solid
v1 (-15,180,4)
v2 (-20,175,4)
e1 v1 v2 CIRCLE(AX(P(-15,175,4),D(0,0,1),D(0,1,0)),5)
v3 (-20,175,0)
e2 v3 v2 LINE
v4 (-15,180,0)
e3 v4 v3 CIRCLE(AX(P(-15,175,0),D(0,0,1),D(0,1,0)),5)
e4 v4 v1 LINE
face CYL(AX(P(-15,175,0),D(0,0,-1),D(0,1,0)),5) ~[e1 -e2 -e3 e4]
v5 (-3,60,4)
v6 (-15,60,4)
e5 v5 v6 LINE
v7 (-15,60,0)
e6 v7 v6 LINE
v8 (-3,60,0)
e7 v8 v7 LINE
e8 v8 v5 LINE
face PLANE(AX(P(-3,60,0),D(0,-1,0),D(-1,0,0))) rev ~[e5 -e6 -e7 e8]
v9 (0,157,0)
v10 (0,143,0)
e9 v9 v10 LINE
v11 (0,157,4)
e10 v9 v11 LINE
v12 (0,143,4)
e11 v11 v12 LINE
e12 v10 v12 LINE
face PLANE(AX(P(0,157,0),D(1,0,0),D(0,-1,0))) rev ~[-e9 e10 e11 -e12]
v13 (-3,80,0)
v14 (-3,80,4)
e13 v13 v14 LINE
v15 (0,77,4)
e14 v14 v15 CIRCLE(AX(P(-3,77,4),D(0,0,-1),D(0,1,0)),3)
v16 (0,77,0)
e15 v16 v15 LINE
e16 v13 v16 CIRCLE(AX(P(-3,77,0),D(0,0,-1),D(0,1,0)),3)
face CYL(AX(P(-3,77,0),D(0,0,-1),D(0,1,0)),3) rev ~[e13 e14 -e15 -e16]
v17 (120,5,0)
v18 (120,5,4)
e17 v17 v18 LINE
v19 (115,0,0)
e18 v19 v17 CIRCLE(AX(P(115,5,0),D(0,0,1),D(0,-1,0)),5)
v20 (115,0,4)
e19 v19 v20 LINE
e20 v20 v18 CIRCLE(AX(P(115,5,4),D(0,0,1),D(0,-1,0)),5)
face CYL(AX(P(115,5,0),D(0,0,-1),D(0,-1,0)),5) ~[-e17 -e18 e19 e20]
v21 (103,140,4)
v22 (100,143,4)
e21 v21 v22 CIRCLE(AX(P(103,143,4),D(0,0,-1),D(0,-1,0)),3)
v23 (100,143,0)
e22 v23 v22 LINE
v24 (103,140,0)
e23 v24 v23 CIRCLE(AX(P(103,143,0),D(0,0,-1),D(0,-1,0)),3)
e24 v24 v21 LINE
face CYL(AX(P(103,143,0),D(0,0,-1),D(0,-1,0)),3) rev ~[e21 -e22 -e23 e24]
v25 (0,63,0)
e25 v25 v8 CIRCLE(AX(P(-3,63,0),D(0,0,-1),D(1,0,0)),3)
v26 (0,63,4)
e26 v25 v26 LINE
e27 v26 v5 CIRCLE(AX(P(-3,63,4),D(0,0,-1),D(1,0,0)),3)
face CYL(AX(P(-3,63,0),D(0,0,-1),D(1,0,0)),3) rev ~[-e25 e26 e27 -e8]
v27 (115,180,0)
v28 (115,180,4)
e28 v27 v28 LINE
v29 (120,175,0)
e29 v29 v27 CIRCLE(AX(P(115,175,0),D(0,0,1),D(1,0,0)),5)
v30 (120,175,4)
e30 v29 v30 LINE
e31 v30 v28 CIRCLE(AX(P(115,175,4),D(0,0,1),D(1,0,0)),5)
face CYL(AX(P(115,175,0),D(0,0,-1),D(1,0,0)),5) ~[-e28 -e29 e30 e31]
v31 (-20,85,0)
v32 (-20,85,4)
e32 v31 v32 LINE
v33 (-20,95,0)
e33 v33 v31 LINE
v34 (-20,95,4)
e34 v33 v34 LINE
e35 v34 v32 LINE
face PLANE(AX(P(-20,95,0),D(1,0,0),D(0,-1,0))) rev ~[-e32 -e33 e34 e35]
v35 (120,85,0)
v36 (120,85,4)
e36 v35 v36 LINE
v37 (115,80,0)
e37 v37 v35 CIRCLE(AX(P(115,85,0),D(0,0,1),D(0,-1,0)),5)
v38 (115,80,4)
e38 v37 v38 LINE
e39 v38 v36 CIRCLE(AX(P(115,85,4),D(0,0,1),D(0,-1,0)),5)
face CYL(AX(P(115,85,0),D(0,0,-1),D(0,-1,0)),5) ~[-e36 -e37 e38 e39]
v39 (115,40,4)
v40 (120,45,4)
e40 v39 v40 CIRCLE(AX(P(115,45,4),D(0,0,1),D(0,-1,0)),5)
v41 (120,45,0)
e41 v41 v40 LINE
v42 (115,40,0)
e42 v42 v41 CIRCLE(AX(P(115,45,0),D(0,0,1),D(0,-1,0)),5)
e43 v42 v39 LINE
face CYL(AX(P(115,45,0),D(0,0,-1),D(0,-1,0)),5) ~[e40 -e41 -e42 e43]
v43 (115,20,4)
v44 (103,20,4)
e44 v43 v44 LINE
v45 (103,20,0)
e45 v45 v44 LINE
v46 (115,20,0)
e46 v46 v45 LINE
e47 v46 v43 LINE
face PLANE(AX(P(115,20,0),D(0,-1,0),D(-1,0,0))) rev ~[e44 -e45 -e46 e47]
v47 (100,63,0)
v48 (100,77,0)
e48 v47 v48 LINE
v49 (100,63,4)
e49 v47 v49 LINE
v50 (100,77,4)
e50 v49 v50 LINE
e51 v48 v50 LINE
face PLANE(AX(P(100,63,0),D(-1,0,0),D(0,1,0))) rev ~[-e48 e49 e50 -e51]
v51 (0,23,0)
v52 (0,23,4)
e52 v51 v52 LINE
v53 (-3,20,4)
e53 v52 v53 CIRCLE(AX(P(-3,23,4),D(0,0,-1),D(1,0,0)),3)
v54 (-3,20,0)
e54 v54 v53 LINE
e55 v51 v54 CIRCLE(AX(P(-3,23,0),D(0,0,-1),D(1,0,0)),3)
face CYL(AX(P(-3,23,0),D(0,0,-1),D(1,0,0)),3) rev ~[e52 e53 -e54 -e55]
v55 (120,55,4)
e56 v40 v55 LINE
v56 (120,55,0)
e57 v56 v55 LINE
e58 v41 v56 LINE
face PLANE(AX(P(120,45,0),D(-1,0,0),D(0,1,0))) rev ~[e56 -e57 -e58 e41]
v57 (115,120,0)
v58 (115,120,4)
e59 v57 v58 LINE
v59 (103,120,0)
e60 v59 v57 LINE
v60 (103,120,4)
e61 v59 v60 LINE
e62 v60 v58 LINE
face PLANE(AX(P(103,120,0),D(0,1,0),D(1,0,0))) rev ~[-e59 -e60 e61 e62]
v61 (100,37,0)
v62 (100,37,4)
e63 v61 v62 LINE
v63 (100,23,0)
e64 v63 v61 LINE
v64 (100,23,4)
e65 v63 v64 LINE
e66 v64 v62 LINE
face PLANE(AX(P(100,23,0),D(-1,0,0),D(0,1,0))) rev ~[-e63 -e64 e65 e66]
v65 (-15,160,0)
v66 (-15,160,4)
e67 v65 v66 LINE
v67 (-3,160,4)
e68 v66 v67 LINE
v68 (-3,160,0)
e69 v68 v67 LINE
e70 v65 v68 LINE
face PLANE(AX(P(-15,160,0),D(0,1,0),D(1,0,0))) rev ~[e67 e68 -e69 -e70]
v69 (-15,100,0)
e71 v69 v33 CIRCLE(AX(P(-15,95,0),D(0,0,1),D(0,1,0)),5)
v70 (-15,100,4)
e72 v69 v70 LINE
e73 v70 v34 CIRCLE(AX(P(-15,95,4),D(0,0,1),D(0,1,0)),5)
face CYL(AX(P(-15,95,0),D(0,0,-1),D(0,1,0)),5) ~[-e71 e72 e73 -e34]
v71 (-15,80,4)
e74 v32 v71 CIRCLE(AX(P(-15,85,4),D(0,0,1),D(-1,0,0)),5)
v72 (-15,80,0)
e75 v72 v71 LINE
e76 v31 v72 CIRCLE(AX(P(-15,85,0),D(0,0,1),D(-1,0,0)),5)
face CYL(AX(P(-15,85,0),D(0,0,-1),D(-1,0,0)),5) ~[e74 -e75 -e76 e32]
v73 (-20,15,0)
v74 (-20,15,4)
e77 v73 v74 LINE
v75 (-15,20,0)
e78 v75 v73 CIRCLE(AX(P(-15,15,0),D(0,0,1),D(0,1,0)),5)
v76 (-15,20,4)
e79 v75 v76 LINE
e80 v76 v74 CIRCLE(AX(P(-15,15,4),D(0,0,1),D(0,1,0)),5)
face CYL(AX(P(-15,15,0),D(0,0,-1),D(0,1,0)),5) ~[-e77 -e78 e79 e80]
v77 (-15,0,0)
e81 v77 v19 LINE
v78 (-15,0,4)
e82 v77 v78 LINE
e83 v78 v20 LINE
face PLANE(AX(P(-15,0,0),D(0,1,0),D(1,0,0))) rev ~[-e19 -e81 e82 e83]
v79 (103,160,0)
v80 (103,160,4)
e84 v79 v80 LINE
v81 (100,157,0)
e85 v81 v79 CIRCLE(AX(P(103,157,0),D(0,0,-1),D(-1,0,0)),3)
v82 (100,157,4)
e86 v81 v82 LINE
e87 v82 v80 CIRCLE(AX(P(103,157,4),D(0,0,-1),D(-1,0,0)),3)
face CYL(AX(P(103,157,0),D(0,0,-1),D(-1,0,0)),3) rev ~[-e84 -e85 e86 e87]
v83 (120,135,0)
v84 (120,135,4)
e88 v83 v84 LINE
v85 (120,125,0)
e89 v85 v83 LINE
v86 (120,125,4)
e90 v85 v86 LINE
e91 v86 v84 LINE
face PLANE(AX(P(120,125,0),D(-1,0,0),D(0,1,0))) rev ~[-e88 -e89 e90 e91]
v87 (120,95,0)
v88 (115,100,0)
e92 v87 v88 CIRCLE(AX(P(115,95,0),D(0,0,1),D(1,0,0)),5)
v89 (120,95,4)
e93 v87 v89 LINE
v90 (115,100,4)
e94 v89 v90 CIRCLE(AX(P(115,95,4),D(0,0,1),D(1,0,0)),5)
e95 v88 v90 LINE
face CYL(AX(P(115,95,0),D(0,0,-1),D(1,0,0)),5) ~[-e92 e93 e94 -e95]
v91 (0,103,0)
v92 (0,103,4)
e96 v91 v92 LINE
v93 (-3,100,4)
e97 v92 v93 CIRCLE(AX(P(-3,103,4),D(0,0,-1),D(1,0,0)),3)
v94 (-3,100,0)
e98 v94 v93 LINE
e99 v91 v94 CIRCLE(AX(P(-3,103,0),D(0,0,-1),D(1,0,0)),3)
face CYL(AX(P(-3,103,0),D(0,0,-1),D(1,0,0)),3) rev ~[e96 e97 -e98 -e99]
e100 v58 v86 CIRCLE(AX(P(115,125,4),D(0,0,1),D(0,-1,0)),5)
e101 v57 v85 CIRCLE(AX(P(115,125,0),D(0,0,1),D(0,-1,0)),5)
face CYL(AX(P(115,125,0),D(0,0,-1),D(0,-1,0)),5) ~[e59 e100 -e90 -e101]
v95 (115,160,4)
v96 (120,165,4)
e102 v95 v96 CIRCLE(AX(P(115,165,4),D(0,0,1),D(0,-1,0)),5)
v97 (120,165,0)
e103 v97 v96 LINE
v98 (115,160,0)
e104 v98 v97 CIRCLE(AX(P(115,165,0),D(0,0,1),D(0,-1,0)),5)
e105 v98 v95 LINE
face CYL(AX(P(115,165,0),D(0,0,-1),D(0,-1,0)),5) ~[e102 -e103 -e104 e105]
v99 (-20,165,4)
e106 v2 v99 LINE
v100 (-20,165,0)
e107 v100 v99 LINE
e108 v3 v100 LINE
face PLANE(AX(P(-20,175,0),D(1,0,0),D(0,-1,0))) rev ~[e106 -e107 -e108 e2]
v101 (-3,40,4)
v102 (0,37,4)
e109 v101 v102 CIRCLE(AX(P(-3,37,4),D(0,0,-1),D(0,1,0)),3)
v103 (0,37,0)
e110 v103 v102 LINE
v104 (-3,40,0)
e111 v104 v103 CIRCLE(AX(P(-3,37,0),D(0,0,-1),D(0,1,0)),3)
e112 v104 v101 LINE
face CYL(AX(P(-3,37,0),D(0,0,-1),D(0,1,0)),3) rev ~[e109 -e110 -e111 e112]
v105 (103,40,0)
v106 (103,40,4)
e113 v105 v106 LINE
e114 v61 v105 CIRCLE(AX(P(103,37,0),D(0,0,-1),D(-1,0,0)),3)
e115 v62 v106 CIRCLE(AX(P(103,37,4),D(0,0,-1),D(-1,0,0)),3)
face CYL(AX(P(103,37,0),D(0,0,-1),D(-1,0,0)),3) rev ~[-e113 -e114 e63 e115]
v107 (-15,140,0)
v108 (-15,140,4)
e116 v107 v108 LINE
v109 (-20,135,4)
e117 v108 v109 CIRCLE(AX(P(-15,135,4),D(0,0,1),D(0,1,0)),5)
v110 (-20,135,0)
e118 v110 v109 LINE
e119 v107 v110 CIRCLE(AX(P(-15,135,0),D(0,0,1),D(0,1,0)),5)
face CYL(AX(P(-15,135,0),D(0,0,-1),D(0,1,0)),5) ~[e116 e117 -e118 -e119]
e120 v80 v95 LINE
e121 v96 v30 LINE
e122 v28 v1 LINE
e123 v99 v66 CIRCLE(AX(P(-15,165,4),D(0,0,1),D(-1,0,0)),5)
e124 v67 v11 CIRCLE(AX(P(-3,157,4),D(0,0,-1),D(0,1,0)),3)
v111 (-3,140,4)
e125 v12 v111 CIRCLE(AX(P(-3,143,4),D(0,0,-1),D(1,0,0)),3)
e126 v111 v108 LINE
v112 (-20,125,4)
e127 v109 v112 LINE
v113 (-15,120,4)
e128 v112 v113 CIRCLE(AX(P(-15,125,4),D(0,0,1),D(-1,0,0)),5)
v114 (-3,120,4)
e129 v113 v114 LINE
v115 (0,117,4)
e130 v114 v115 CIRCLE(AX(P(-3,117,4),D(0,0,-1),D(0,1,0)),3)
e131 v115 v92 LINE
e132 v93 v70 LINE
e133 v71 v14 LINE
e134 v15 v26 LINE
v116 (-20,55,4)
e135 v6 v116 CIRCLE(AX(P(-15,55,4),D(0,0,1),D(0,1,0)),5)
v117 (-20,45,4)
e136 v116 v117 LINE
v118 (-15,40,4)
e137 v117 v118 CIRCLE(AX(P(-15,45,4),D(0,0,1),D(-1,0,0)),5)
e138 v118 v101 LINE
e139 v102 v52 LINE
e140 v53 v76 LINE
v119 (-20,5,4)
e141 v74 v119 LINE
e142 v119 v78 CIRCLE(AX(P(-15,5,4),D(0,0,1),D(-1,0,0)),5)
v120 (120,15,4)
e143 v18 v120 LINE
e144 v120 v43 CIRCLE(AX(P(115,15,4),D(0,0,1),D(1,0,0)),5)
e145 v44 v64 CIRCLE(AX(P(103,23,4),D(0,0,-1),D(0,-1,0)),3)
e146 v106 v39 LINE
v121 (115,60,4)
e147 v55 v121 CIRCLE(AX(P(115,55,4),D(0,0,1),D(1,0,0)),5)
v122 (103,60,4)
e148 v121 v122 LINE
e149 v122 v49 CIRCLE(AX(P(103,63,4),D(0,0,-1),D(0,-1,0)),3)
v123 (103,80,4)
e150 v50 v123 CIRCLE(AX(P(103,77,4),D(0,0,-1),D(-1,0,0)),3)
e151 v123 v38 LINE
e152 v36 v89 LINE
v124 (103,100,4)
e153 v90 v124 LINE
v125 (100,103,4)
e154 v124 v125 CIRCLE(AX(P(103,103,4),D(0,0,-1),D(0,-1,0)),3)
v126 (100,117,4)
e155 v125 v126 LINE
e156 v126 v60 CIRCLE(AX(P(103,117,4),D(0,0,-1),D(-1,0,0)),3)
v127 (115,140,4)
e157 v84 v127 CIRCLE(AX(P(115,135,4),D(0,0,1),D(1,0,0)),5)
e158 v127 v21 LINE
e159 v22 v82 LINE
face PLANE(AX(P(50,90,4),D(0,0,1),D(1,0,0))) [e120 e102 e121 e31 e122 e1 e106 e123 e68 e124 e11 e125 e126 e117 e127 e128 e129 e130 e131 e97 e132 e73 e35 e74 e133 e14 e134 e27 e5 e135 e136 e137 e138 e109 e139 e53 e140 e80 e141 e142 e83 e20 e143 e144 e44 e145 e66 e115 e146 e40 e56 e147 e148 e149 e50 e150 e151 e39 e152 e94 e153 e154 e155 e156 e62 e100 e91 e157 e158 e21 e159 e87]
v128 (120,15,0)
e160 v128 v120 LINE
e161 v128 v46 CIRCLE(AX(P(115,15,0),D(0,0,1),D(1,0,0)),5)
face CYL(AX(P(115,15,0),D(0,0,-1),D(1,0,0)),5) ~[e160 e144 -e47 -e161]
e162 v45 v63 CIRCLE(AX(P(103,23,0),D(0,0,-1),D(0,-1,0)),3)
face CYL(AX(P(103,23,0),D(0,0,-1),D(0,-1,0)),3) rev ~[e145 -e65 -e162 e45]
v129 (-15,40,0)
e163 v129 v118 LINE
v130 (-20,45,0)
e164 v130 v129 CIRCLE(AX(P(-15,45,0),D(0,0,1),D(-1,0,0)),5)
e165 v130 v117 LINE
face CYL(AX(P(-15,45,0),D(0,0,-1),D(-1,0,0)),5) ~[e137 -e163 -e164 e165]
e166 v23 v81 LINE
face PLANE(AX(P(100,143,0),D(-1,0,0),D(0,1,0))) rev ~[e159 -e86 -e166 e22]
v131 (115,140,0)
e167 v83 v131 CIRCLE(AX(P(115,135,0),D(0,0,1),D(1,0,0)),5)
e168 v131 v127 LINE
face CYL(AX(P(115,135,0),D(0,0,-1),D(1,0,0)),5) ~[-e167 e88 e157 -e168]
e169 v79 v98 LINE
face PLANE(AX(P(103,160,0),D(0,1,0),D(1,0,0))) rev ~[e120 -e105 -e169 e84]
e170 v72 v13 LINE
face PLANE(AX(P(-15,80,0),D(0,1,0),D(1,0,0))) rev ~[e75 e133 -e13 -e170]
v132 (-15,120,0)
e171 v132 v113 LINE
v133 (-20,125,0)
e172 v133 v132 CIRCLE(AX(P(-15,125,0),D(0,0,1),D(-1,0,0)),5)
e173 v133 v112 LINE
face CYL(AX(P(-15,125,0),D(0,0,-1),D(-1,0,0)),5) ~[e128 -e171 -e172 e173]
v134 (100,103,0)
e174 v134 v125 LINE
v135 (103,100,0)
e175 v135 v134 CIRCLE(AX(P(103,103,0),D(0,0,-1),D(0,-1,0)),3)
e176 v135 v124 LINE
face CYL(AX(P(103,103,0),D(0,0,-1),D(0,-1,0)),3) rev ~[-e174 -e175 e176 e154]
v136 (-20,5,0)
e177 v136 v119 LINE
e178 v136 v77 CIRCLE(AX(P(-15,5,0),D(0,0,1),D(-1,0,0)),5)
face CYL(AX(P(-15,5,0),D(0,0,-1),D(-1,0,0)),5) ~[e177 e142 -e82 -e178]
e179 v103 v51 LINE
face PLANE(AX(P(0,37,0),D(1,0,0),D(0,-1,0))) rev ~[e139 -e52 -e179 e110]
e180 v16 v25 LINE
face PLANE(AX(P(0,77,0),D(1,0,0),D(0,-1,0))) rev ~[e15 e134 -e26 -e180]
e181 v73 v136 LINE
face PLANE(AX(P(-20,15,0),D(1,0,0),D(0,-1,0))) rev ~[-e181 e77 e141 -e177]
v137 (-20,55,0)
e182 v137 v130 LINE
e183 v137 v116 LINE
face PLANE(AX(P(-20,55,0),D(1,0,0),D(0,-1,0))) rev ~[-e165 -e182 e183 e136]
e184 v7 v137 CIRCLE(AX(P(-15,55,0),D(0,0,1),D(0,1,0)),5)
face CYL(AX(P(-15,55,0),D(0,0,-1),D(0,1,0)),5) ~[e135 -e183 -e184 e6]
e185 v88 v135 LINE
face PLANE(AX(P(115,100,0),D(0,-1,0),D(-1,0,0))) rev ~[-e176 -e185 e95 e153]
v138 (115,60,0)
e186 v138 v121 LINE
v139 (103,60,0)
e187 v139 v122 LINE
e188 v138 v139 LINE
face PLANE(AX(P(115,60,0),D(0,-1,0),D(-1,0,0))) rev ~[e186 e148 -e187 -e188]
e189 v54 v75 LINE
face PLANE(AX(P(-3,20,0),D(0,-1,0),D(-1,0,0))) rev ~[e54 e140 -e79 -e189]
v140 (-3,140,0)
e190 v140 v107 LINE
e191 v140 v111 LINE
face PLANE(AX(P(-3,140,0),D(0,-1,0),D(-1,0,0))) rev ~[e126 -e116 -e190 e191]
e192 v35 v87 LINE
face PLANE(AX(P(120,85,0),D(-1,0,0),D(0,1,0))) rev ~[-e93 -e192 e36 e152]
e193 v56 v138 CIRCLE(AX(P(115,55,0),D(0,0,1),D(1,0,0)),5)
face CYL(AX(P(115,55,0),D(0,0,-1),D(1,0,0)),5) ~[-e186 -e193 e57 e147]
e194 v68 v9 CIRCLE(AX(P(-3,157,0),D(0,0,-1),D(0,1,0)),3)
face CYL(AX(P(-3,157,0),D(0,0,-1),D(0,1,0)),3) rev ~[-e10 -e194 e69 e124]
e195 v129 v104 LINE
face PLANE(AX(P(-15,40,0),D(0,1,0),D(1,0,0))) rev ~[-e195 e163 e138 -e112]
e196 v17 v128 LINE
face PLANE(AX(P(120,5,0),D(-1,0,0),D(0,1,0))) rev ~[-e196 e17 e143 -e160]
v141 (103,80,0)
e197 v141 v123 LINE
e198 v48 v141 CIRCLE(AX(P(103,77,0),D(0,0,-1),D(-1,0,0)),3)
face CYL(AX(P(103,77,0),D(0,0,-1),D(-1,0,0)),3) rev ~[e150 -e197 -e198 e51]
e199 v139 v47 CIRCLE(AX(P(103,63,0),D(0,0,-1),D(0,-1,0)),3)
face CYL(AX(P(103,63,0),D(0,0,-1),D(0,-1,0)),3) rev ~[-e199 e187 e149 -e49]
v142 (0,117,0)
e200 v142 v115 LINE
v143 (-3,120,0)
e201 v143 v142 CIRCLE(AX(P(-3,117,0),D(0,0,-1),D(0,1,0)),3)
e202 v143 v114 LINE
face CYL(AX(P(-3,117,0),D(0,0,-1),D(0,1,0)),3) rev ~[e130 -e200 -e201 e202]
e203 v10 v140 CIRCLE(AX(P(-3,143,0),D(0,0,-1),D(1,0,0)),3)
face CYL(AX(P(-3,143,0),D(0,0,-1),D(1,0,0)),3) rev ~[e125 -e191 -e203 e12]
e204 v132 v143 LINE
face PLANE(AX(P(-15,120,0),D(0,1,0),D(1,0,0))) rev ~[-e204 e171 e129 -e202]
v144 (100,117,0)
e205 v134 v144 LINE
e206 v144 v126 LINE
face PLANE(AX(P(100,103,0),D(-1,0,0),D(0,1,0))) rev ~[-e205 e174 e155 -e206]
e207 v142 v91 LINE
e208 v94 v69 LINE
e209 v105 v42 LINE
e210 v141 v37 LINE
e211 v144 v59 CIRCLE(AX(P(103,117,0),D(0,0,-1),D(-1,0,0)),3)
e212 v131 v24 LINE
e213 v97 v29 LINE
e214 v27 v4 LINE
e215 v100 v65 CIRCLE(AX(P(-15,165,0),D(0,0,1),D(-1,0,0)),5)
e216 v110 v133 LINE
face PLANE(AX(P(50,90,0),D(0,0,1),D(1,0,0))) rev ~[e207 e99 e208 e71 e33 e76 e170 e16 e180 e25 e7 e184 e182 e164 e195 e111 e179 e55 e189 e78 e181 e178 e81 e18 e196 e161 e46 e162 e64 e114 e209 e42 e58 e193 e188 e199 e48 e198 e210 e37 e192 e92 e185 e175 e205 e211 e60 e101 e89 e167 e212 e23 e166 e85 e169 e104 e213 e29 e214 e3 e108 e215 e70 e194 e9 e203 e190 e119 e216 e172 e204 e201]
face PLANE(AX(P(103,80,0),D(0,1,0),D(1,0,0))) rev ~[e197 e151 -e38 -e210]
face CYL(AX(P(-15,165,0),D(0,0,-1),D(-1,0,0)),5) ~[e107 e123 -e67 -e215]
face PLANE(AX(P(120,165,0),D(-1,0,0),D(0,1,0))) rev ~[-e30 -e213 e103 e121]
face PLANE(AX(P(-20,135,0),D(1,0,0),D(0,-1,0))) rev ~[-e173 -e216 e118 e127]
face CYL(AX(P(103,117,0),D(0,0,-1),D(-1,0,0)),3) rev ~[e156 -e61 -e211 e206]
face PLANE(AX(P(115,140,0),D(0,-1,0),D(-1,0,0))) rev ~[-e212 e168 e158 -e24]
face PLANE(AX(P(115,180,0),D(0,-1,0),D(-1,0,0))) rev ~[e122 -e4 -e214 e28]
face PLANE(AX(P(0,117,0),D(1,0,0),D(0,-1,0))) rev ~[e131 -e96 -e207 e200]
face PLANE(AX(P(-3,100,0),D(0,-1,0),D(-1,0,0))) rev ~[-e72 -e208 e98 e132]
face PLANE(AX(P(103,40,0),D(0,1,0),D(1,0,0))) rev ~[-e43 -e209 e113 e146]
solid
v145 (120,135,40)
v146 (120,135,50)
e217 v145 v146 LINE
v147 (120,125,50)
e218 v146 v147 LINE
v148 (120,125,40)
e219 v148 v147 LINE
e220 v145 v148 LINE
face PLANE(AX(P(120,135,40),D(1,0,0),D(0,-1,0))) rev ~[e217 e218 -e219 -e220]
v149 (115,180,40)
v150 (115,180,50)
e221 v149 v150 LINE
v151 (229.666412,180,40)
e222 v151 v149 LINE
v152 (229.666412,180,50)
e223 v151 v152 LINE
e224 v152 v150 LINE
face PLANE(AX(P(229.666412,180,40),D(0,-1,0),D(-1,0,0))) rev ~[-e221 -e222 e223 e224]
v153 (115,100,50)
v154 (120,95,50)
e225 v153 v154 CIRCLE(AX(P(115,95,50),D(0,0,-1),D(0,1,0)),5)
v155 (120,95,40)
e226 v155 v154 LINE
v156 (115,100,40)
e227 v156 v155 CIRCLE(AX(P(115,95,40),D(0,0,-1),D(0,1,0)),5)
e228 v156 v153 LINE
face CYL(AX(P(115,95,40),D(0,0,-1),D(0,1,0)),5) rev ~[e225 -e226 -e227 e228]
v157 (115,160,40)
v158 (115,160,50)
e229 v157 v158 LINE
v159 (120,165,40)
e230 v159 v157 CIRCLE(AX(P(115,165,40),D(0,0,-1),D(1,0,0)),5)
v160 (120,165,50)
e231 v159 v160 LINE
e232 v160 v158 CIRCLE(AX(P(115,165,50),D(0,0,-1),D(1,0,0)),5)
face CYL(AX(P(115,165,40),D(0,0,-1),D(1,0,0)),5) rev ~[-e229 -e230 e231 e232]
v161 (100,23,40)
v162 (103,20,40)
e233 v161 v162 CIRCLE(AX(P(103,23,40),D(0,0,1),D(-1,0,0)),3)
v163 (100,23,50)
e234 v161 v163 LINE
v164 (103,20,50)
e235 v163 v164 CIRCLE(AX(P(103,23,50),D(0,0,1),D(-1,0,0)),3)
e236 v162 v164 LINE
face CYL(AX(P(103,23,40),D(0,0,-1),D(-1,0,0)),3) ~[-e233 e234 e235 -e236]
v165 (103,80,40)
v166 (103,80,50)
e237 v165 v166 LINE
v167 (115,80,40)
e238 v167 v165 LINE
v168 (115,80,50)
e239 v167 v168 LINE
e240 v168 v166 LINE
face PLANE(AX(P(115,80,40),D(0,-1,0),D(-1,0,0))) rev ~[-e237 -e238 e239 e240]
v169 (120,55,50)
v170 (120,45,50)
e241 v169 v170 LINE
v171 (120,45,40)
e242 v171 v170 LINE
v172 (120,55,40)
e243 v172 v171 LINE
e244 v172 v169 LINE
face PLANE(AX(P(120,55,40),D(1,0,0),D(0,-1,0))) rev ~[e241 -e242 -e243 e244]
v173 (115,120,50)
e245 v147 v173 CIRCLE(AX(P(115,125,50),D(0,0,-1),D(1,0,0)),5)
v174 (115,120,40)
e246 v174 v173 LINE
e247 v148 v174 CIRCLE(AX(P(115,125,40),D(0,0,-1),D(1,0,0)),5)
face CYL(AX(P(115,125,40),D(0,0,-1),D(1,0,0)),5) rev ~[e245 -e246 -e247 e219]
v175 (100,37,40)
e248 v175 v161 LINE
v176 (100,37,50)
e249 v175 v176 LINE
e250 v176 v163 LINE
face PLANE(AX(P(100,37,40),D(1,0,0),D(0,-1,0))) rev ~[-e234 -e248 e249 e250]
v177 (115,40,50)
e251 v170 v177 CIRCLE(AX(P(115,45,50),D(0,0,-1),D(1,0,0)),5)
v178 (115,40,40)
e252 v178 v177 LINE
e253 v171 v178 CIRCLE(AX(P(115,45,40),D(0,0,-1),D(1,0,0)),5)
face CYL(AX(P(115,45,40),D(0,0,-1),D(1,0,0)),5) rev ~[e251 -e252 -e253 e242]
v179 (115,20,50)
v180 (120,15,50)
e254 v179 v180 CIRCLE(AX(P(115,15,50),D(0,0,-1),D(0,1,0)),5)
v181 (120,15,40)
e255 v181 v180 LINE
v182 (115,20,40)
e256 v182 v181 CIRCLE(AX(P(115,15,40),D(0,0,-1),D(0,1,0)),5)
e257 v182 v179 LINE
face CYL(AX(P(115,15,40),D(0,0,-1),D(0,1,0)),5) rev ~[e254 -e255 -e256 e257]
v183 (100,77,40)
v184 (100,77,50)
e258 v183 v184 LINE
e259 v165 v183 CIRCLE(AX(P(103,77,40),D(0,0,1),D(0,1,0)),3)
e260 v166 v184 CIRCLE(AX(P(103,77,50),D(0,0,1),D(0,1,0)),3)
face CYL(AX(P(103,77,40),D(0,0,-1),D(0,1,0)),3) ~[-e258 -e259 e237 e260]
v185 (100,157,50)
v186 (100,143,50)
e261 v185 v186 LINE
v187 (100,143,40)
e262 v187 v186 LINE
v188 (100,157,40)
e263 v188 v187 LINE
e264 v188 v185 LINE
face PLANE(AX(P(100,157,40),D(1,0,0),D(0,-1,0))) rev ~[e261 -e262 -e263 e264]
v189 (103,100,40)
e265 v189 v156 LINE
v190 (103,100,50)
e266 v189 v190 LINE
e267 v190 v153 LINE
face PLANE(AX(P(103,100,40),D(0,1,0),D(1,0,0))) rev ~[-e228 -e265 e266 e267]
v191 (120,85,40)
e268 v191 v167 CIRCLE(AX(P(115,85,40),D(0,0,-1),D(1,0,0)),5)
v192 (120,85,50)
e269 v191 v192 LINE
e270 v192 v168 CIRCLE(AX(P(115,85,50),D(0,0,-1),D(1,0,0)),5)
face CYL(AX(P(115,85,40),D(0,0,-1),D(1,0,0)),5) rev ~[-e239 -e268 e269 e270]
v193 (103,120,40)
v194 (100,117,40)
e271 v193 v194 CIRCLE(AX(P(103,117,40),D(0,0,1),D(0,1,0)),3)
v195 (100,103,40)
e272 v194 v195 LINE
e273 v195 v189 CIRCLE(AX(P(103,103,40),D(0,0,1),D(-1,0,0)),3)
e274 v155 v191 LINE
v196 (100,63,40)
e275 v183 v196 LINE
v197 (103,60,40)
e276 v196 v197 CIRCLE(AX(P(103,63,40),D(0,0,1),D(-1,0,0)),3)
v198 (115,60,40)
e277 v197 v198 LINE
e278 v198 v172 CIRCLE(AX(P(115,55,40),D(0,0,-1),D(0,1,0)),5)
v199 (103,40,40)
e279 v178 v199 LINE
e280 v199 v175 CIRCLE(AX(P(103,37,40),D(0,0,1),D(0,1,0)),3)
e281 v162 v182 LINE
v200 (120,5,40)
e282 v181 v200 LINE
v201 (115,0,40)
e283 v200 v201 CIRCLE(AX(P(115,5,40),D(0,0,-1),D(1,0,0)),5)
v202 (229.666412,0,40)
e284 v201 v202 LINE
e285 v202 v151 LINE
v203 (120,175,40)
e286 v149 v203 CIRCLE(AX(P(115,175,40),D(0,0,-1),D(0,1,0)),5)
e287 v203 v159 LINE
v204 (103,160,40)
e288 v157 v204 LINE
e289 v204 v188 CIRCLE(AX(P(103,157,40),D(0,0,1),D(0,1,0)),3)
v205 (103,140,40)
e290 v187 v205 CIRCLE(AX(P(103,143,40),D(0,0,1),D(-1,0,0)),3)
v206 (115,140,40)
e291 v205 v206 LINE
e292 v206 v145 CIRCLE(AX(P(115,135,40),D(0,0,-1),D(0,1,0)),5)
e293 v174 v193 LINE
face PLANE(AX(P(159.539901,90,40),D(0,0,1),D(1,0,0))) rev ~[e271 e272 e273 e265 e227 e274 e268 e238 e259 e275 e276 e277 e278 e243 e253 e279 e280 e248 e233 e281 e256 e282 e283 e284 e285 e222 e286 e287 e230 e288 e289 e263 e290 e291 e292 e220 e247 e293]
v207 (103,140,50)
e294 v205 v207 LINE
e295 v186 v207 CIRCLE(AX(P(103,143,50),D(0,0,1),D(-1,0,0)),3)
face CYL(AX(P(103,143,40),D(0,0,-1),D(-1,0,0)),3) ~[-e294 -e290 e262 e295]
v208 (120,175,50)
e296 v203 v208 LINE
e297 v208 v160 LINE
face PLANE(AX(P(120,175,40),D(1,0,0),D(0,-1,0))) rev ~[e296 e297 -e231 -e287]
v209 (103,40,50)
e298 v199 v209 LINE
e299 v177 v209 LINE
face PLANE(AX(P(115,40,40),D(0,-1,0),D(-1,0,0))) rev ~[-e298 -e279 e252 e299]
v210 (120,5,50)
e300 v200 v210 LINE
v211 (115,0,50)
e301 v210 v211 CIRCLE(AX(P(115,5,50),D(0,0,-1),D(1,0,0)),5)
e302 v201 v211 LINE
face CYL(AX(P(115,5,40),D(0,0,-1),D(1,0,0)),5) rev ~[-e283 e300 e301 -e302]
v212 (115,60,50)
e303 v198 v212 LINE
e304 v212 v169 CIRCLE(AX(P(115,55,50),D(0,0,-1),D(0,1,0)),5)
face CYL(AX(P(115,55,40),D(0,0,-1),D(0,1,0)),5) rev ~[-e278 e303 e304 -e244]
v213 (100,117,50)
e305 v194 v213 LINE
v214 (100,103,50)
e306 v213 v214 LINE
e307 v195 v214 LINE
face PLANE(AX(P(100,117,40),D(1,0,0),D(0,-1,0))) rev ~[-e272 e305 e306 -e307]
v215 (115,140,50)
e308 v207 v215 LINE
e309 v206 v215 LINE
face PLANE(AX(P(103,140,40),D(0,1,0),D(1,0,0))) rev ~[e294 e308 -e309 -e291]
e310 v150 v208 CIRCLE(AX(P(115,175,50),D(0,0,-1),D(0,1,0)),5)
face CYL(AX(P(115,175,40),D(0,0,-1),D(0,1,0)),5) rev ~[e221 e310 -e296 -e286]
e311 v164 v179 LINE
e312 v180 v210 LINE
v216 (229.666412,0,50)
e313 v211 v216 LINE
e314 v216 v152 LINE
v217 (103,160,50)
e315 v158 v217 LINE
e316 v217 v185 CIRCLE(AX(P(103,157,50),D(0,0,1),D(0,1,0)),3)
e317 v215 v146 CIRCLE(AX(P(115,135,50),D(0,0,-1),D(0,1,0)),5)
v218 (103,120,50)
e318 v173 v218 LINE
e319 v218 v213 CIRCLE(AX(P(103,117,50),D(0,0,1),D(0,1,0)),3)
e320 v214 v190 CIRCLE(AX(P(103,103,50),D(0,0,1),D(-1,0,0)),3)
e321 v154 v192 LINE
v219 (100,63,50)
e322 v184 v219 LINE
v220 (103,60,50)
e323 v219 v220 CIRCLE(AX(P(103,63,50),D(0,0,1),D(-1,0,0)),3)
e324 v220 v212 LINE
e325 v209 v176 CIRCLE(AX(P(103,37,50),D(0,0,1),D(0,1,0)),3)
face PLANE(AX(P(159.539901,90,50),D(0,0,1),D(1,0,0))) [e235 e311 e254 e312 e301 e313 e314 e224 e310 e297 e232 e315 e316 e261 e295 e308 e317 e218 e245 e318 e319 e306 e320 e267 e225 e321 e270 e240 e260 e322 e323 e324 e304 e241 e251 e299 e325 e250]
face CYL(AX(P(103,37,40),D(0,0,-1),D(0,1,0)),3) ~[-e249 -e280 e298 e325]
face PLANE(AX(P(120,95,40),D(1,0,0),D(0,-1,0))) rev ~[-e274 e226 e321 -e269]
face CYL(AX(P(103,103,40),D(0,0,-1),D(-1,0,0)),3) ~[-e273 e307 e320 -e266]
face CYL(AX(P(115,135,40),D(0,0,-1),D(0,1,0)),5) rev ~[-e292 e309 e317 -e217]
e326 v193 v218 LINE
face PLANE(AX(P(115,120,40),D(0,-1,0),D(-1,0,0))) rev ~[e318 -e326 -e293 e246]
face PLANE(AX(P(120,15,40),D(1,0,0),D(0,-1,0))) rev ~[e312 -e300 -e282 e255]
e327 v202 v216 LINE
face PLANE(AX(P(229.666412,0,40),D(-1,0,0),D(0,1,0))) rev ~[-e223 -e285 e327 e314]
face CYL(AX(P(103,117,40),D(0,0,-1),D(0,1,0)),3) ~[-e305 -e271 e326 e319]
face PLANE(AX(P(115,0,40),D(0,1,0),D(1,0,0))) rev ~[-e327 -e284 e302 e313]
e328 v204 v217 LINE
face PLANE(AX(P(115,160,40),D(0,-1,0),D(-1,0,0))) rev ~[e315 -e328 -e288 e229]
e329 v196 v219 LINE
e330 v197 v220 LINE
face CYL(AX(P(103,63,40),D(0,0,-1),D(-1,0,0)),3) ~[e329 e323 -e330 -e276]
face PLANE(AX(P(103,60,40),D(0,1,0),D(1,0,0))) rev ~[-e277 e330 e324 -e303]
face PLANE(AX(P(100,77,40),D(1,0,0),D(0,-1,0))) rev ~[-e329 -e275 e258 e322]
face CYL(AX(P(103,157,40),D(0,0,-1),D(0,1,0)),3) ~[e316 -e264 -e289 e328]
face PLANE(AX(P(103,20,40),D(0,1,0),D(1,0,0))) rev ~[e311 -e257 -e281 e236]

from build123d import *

# Parameters (mm, degrees)
F1_DEPTH = 4
F2_START = 40
F2_DEPTH = 10


with BuildPart() as f1:
    # F0 (on Top) → F1 (new body)
    with BuildSketch(Plane.XY):
        with BuildLine():
            Line((-15, 0), (0, 0))
            Line((0, 0), (100, 0))
            Line((100, 0), (115, 0))
            ThreePointArc((115, 0), (118.5355339059, 1.4644660941), (120, 5))
            Line((120, 5), (120, 15))
            ThreePointArc((120, 15), (118.5355339059, 18.5355339059), (115, 20))
            Line((115, 20), (103, 20))
            ThreePointArc((103, 20), (100.8786796564, 20.8786796564), (100, 23))
            Line((100, 23), (100, 37))
            ThreePointArc((100, 37), (100.8786796564, 39.1213203436), (103, 40))
            Line((103, 40), (115, 40))
            ThreePointArc((115, 40), (118.5355339059, 41.4644660941), (120, 45))
            Line((120, 45), (120, 55))
            ThreePointArc((120, 55), (118.5355339059, 58.5355339059), (115, 60))
            Line((115, 60), (103, 60))
            ThreePointArc((103, 60), (100.8786796564, 60.8786796564), (100, 63))
            Line((100, 63), (100, 77))
            ThreePointArc((100, 77), (100.8786796564, 79.1213203436), (103, 80))
            Line((103, 80), (115, 80))
            ThreePointArc((115, 80), (118.5355339059, 81.4644660941), (120, 85))
            Line((120, 85), (120, 95))
            ThreePointArc((120, 95), (118.5355339059, 98.5355339059), (115, 100))
            Line((115, 100), (103, 100))
            ThreePointArc((103, 100), (100.8786796564, 100.8786796564), (100, 103))
            Line((100, 103), (100, 117))
            ThreePointArc((100, 117), (100.8786796564, 119.1213203436), (103, 120))
            Line((103, 120), (115, 120))
            ThreePointArc((115, 120), (118.5355339059, 121.4644660941), (120, 125))
            Line((120, 125), (120, 135))
            ThreePointArc((120, 135), (118.5355339059, 138.5355339059), (115, 140))
            Line((115, 140), (103, 140))
            ThreePointArc((103, 140), (100.8786796564, 140.8786796564), (100, 143))
            Line((100, 143), (100, 157))
            ThreePointArc((100, 157), (100.8786796564, 159.1213203436), (103, 160))
            Line((103, 160), (115, 160))
            ThreePointArc((115, 160), (118.5355339059, 161.4644660941), (120, 165))
            Line((120, 165), (120, 175))
            ThreePointArc((120, 175), (118.5355339059, 178.5355339059), (115, 180))
            Line((115, 180), (100, 180))
            Line((100, 180), (0, 180))
            Line((0, 180), (-15, 180))
            ThreePointArc((-15, 180), (-18.5355339059, 178.5355339059), (-20, 175))
            Line((-20, 175), (-20, 165))
            ThreePointArc((-20, 165), (-18.5355339059, 161.4644660941), (-15, 160))
            Line((-15, 160), (-3, 160))
            ThreePointArc((-3, 160), (-0.8786796564, 159.1213203436), (0, 157))
            Line((0, 157), (0, 143))
            ThreePointArc((0, 143), (-0.8786796564, 140.8786796564), (-3, 140))
            Line((-3, 140), (-15, 140))
            ThreePointArc((-15, 140), (-18.5355339059, 138.5355339059), (-20, 135))
            Line((-20, 135), (-20, 125))
            ThreePointArc((-20, 125), (-18.5355339059, 121.4644660941), (-15, 120))
            Line((-15, 120), (-3, 120))
            ThreePointArc((-3, 120), (-0.8786796564, 119.1213203436), (0, 117))
            Line((0, 117), (0, 103))
            ThreePointArc((0, 103), (-0.8786796564, 100.8786796564), (-3, 100))
            Line((-3, 100), (-15, 100))
            ThreePointArc((-15, 100), (-18.5355339059, 98.5355339059), (-20, 95))
            Line((-20, 95), (-20, 85))
            ThreePointArc((-20, 85), (-18.5355339059, 81.4644660941), (-15, 80))
            Line((-15, 80), (-3, 80))
            ThreePointArc((-3, 80), (-0.8786796564, 79.1213203436), (0, 77))
            Line((0, 77), (0, 63))
            ThreePointArc((0, 63), (-0.8786796564, 60.8786796564), (-3, 60))
            Line((-3, 60), (-15, 60))
            ThreePointArc((-15, 60), (-18.5355339059, 58.5355339059), (-20, 55))
            Line((-20, 55), (-20, 45))
            ThreePointArc((-20, 45), (-18.5355339059, 41.4644660941), (-15, 40))
            Line((-15, 40), (-3, 40))
            ThreePointArc((-3, 40), (-0.8786796564, 39.1213203436), (0, 37))
            Line((0, 37), (0, 23))
            ThreePointArc((0, 23), (-0.8786796564, 20.8786796564), (-3, 20))
            Line((-3, 20), (-15, 20))
            ThreePointArc((-15, 20), (-18.5355339059, 18.5355339059), (-20, 15))
            Line((-20, 15), (-20, 5))
            ThreePointArc((-20, 5), (-18.5355339059, 1.4644660941), (-15, 0))
        make_face()
    extrude(amount=F1_DEPTH)


with BuildPart() as f2:
    # F0 (on Top) → F2 (new body)
    with BuildSketch(Plane.XY.offset(F2_START)):
        with BuildLine():
            ThreePointArc((120, 5), (118.5355339059, 1.4644660941), (115, 0))
            Line((115, 0), (229.6664118767, 0))
            Line((229.6664118767, 0), (229.6664118767, 180))
            Line((229.6664118767, 180), (115, 180))
            ThreePointArc((115, 180), (118.5355339059, 178.5355339059), (120, 175))
            Line((120, 175), (120, 165))
            ThreePointArc((120, 165), (118.5355339059, 161.4644660941), (115, 160))
            Line((115, 160), (103, 160))
            ThreePointArc((103, 160), (100.8786796564, 159.1213203436), (100, 157))
            Line((100, 157), (100, 143))
            ThreePointArc((100, 143), (100.8786796564, 140.8786796564), (103, 140))
            Line((103, 140), (115, 140))
            ThreePointArc((115, 140), (118.5355339059, 138.5355339059), (120, 135))
            Line((120, 135), (120, 125))
            ThreePointArc((120, 125), (118.5355339059, 121.4644660941), (115, 120))
            Line((115, 120), (103, 120))
            ThreePointArc((103, 120), (100.8786796564, 119.1213203436), (100, 117))
            Line((100, 117), (100, 103))
            ThreePointArc((100, 103), (100.8786796564, 100.8786796564), (103, 100))
            Line((103, 100), (115, 100))
            ThreePointArc((115, 100), (118.5355339059, 98.5355339059), (120, 95))
            Line((120, 95), (120, 85))
            ThreePointArc((120, 85), (118.5355339059, 81.4644660941), (115, 80))
            Line((115, 80), (103, 80))
            ThreePointArc((103, 80), (100.8786796564, 79.1213203436), (100, 77))
            Line((100, 77), (100, 63))
            ThreePointArc((100, 63), (100.8786796564, 60.8786796564), (103, 60))
            Line((103, 60), (115, 60))
            ThreePointArc((115, 60), (118.5355339059, 58.5355339059), (120, 55))
            Line((120, 55), (120, 45))
            ThreePointArc((120, 45), (118.5355339059, 41.4644660941), (115, 40))
            Line((115, 40), (103, 40))
            ThreePointArc((103, 40), (100.8786796564, 39.1213203436), (100, 37))
            Line((100, 37), (100, 23))
            ThreePointArc((100, 23), (100.8786796564, 20.8786796564), (103, 20))
            Line((103, 20), (115, 20))
            ThreePointArc((115, 20), (118.5355339059, 18.5355339059), (120, 15))
            Line((120, 15), (120, 5))
        make_face()
    extrude(amount=F2_DEPTH)


solid = Compound([f1.part, f2.part])
